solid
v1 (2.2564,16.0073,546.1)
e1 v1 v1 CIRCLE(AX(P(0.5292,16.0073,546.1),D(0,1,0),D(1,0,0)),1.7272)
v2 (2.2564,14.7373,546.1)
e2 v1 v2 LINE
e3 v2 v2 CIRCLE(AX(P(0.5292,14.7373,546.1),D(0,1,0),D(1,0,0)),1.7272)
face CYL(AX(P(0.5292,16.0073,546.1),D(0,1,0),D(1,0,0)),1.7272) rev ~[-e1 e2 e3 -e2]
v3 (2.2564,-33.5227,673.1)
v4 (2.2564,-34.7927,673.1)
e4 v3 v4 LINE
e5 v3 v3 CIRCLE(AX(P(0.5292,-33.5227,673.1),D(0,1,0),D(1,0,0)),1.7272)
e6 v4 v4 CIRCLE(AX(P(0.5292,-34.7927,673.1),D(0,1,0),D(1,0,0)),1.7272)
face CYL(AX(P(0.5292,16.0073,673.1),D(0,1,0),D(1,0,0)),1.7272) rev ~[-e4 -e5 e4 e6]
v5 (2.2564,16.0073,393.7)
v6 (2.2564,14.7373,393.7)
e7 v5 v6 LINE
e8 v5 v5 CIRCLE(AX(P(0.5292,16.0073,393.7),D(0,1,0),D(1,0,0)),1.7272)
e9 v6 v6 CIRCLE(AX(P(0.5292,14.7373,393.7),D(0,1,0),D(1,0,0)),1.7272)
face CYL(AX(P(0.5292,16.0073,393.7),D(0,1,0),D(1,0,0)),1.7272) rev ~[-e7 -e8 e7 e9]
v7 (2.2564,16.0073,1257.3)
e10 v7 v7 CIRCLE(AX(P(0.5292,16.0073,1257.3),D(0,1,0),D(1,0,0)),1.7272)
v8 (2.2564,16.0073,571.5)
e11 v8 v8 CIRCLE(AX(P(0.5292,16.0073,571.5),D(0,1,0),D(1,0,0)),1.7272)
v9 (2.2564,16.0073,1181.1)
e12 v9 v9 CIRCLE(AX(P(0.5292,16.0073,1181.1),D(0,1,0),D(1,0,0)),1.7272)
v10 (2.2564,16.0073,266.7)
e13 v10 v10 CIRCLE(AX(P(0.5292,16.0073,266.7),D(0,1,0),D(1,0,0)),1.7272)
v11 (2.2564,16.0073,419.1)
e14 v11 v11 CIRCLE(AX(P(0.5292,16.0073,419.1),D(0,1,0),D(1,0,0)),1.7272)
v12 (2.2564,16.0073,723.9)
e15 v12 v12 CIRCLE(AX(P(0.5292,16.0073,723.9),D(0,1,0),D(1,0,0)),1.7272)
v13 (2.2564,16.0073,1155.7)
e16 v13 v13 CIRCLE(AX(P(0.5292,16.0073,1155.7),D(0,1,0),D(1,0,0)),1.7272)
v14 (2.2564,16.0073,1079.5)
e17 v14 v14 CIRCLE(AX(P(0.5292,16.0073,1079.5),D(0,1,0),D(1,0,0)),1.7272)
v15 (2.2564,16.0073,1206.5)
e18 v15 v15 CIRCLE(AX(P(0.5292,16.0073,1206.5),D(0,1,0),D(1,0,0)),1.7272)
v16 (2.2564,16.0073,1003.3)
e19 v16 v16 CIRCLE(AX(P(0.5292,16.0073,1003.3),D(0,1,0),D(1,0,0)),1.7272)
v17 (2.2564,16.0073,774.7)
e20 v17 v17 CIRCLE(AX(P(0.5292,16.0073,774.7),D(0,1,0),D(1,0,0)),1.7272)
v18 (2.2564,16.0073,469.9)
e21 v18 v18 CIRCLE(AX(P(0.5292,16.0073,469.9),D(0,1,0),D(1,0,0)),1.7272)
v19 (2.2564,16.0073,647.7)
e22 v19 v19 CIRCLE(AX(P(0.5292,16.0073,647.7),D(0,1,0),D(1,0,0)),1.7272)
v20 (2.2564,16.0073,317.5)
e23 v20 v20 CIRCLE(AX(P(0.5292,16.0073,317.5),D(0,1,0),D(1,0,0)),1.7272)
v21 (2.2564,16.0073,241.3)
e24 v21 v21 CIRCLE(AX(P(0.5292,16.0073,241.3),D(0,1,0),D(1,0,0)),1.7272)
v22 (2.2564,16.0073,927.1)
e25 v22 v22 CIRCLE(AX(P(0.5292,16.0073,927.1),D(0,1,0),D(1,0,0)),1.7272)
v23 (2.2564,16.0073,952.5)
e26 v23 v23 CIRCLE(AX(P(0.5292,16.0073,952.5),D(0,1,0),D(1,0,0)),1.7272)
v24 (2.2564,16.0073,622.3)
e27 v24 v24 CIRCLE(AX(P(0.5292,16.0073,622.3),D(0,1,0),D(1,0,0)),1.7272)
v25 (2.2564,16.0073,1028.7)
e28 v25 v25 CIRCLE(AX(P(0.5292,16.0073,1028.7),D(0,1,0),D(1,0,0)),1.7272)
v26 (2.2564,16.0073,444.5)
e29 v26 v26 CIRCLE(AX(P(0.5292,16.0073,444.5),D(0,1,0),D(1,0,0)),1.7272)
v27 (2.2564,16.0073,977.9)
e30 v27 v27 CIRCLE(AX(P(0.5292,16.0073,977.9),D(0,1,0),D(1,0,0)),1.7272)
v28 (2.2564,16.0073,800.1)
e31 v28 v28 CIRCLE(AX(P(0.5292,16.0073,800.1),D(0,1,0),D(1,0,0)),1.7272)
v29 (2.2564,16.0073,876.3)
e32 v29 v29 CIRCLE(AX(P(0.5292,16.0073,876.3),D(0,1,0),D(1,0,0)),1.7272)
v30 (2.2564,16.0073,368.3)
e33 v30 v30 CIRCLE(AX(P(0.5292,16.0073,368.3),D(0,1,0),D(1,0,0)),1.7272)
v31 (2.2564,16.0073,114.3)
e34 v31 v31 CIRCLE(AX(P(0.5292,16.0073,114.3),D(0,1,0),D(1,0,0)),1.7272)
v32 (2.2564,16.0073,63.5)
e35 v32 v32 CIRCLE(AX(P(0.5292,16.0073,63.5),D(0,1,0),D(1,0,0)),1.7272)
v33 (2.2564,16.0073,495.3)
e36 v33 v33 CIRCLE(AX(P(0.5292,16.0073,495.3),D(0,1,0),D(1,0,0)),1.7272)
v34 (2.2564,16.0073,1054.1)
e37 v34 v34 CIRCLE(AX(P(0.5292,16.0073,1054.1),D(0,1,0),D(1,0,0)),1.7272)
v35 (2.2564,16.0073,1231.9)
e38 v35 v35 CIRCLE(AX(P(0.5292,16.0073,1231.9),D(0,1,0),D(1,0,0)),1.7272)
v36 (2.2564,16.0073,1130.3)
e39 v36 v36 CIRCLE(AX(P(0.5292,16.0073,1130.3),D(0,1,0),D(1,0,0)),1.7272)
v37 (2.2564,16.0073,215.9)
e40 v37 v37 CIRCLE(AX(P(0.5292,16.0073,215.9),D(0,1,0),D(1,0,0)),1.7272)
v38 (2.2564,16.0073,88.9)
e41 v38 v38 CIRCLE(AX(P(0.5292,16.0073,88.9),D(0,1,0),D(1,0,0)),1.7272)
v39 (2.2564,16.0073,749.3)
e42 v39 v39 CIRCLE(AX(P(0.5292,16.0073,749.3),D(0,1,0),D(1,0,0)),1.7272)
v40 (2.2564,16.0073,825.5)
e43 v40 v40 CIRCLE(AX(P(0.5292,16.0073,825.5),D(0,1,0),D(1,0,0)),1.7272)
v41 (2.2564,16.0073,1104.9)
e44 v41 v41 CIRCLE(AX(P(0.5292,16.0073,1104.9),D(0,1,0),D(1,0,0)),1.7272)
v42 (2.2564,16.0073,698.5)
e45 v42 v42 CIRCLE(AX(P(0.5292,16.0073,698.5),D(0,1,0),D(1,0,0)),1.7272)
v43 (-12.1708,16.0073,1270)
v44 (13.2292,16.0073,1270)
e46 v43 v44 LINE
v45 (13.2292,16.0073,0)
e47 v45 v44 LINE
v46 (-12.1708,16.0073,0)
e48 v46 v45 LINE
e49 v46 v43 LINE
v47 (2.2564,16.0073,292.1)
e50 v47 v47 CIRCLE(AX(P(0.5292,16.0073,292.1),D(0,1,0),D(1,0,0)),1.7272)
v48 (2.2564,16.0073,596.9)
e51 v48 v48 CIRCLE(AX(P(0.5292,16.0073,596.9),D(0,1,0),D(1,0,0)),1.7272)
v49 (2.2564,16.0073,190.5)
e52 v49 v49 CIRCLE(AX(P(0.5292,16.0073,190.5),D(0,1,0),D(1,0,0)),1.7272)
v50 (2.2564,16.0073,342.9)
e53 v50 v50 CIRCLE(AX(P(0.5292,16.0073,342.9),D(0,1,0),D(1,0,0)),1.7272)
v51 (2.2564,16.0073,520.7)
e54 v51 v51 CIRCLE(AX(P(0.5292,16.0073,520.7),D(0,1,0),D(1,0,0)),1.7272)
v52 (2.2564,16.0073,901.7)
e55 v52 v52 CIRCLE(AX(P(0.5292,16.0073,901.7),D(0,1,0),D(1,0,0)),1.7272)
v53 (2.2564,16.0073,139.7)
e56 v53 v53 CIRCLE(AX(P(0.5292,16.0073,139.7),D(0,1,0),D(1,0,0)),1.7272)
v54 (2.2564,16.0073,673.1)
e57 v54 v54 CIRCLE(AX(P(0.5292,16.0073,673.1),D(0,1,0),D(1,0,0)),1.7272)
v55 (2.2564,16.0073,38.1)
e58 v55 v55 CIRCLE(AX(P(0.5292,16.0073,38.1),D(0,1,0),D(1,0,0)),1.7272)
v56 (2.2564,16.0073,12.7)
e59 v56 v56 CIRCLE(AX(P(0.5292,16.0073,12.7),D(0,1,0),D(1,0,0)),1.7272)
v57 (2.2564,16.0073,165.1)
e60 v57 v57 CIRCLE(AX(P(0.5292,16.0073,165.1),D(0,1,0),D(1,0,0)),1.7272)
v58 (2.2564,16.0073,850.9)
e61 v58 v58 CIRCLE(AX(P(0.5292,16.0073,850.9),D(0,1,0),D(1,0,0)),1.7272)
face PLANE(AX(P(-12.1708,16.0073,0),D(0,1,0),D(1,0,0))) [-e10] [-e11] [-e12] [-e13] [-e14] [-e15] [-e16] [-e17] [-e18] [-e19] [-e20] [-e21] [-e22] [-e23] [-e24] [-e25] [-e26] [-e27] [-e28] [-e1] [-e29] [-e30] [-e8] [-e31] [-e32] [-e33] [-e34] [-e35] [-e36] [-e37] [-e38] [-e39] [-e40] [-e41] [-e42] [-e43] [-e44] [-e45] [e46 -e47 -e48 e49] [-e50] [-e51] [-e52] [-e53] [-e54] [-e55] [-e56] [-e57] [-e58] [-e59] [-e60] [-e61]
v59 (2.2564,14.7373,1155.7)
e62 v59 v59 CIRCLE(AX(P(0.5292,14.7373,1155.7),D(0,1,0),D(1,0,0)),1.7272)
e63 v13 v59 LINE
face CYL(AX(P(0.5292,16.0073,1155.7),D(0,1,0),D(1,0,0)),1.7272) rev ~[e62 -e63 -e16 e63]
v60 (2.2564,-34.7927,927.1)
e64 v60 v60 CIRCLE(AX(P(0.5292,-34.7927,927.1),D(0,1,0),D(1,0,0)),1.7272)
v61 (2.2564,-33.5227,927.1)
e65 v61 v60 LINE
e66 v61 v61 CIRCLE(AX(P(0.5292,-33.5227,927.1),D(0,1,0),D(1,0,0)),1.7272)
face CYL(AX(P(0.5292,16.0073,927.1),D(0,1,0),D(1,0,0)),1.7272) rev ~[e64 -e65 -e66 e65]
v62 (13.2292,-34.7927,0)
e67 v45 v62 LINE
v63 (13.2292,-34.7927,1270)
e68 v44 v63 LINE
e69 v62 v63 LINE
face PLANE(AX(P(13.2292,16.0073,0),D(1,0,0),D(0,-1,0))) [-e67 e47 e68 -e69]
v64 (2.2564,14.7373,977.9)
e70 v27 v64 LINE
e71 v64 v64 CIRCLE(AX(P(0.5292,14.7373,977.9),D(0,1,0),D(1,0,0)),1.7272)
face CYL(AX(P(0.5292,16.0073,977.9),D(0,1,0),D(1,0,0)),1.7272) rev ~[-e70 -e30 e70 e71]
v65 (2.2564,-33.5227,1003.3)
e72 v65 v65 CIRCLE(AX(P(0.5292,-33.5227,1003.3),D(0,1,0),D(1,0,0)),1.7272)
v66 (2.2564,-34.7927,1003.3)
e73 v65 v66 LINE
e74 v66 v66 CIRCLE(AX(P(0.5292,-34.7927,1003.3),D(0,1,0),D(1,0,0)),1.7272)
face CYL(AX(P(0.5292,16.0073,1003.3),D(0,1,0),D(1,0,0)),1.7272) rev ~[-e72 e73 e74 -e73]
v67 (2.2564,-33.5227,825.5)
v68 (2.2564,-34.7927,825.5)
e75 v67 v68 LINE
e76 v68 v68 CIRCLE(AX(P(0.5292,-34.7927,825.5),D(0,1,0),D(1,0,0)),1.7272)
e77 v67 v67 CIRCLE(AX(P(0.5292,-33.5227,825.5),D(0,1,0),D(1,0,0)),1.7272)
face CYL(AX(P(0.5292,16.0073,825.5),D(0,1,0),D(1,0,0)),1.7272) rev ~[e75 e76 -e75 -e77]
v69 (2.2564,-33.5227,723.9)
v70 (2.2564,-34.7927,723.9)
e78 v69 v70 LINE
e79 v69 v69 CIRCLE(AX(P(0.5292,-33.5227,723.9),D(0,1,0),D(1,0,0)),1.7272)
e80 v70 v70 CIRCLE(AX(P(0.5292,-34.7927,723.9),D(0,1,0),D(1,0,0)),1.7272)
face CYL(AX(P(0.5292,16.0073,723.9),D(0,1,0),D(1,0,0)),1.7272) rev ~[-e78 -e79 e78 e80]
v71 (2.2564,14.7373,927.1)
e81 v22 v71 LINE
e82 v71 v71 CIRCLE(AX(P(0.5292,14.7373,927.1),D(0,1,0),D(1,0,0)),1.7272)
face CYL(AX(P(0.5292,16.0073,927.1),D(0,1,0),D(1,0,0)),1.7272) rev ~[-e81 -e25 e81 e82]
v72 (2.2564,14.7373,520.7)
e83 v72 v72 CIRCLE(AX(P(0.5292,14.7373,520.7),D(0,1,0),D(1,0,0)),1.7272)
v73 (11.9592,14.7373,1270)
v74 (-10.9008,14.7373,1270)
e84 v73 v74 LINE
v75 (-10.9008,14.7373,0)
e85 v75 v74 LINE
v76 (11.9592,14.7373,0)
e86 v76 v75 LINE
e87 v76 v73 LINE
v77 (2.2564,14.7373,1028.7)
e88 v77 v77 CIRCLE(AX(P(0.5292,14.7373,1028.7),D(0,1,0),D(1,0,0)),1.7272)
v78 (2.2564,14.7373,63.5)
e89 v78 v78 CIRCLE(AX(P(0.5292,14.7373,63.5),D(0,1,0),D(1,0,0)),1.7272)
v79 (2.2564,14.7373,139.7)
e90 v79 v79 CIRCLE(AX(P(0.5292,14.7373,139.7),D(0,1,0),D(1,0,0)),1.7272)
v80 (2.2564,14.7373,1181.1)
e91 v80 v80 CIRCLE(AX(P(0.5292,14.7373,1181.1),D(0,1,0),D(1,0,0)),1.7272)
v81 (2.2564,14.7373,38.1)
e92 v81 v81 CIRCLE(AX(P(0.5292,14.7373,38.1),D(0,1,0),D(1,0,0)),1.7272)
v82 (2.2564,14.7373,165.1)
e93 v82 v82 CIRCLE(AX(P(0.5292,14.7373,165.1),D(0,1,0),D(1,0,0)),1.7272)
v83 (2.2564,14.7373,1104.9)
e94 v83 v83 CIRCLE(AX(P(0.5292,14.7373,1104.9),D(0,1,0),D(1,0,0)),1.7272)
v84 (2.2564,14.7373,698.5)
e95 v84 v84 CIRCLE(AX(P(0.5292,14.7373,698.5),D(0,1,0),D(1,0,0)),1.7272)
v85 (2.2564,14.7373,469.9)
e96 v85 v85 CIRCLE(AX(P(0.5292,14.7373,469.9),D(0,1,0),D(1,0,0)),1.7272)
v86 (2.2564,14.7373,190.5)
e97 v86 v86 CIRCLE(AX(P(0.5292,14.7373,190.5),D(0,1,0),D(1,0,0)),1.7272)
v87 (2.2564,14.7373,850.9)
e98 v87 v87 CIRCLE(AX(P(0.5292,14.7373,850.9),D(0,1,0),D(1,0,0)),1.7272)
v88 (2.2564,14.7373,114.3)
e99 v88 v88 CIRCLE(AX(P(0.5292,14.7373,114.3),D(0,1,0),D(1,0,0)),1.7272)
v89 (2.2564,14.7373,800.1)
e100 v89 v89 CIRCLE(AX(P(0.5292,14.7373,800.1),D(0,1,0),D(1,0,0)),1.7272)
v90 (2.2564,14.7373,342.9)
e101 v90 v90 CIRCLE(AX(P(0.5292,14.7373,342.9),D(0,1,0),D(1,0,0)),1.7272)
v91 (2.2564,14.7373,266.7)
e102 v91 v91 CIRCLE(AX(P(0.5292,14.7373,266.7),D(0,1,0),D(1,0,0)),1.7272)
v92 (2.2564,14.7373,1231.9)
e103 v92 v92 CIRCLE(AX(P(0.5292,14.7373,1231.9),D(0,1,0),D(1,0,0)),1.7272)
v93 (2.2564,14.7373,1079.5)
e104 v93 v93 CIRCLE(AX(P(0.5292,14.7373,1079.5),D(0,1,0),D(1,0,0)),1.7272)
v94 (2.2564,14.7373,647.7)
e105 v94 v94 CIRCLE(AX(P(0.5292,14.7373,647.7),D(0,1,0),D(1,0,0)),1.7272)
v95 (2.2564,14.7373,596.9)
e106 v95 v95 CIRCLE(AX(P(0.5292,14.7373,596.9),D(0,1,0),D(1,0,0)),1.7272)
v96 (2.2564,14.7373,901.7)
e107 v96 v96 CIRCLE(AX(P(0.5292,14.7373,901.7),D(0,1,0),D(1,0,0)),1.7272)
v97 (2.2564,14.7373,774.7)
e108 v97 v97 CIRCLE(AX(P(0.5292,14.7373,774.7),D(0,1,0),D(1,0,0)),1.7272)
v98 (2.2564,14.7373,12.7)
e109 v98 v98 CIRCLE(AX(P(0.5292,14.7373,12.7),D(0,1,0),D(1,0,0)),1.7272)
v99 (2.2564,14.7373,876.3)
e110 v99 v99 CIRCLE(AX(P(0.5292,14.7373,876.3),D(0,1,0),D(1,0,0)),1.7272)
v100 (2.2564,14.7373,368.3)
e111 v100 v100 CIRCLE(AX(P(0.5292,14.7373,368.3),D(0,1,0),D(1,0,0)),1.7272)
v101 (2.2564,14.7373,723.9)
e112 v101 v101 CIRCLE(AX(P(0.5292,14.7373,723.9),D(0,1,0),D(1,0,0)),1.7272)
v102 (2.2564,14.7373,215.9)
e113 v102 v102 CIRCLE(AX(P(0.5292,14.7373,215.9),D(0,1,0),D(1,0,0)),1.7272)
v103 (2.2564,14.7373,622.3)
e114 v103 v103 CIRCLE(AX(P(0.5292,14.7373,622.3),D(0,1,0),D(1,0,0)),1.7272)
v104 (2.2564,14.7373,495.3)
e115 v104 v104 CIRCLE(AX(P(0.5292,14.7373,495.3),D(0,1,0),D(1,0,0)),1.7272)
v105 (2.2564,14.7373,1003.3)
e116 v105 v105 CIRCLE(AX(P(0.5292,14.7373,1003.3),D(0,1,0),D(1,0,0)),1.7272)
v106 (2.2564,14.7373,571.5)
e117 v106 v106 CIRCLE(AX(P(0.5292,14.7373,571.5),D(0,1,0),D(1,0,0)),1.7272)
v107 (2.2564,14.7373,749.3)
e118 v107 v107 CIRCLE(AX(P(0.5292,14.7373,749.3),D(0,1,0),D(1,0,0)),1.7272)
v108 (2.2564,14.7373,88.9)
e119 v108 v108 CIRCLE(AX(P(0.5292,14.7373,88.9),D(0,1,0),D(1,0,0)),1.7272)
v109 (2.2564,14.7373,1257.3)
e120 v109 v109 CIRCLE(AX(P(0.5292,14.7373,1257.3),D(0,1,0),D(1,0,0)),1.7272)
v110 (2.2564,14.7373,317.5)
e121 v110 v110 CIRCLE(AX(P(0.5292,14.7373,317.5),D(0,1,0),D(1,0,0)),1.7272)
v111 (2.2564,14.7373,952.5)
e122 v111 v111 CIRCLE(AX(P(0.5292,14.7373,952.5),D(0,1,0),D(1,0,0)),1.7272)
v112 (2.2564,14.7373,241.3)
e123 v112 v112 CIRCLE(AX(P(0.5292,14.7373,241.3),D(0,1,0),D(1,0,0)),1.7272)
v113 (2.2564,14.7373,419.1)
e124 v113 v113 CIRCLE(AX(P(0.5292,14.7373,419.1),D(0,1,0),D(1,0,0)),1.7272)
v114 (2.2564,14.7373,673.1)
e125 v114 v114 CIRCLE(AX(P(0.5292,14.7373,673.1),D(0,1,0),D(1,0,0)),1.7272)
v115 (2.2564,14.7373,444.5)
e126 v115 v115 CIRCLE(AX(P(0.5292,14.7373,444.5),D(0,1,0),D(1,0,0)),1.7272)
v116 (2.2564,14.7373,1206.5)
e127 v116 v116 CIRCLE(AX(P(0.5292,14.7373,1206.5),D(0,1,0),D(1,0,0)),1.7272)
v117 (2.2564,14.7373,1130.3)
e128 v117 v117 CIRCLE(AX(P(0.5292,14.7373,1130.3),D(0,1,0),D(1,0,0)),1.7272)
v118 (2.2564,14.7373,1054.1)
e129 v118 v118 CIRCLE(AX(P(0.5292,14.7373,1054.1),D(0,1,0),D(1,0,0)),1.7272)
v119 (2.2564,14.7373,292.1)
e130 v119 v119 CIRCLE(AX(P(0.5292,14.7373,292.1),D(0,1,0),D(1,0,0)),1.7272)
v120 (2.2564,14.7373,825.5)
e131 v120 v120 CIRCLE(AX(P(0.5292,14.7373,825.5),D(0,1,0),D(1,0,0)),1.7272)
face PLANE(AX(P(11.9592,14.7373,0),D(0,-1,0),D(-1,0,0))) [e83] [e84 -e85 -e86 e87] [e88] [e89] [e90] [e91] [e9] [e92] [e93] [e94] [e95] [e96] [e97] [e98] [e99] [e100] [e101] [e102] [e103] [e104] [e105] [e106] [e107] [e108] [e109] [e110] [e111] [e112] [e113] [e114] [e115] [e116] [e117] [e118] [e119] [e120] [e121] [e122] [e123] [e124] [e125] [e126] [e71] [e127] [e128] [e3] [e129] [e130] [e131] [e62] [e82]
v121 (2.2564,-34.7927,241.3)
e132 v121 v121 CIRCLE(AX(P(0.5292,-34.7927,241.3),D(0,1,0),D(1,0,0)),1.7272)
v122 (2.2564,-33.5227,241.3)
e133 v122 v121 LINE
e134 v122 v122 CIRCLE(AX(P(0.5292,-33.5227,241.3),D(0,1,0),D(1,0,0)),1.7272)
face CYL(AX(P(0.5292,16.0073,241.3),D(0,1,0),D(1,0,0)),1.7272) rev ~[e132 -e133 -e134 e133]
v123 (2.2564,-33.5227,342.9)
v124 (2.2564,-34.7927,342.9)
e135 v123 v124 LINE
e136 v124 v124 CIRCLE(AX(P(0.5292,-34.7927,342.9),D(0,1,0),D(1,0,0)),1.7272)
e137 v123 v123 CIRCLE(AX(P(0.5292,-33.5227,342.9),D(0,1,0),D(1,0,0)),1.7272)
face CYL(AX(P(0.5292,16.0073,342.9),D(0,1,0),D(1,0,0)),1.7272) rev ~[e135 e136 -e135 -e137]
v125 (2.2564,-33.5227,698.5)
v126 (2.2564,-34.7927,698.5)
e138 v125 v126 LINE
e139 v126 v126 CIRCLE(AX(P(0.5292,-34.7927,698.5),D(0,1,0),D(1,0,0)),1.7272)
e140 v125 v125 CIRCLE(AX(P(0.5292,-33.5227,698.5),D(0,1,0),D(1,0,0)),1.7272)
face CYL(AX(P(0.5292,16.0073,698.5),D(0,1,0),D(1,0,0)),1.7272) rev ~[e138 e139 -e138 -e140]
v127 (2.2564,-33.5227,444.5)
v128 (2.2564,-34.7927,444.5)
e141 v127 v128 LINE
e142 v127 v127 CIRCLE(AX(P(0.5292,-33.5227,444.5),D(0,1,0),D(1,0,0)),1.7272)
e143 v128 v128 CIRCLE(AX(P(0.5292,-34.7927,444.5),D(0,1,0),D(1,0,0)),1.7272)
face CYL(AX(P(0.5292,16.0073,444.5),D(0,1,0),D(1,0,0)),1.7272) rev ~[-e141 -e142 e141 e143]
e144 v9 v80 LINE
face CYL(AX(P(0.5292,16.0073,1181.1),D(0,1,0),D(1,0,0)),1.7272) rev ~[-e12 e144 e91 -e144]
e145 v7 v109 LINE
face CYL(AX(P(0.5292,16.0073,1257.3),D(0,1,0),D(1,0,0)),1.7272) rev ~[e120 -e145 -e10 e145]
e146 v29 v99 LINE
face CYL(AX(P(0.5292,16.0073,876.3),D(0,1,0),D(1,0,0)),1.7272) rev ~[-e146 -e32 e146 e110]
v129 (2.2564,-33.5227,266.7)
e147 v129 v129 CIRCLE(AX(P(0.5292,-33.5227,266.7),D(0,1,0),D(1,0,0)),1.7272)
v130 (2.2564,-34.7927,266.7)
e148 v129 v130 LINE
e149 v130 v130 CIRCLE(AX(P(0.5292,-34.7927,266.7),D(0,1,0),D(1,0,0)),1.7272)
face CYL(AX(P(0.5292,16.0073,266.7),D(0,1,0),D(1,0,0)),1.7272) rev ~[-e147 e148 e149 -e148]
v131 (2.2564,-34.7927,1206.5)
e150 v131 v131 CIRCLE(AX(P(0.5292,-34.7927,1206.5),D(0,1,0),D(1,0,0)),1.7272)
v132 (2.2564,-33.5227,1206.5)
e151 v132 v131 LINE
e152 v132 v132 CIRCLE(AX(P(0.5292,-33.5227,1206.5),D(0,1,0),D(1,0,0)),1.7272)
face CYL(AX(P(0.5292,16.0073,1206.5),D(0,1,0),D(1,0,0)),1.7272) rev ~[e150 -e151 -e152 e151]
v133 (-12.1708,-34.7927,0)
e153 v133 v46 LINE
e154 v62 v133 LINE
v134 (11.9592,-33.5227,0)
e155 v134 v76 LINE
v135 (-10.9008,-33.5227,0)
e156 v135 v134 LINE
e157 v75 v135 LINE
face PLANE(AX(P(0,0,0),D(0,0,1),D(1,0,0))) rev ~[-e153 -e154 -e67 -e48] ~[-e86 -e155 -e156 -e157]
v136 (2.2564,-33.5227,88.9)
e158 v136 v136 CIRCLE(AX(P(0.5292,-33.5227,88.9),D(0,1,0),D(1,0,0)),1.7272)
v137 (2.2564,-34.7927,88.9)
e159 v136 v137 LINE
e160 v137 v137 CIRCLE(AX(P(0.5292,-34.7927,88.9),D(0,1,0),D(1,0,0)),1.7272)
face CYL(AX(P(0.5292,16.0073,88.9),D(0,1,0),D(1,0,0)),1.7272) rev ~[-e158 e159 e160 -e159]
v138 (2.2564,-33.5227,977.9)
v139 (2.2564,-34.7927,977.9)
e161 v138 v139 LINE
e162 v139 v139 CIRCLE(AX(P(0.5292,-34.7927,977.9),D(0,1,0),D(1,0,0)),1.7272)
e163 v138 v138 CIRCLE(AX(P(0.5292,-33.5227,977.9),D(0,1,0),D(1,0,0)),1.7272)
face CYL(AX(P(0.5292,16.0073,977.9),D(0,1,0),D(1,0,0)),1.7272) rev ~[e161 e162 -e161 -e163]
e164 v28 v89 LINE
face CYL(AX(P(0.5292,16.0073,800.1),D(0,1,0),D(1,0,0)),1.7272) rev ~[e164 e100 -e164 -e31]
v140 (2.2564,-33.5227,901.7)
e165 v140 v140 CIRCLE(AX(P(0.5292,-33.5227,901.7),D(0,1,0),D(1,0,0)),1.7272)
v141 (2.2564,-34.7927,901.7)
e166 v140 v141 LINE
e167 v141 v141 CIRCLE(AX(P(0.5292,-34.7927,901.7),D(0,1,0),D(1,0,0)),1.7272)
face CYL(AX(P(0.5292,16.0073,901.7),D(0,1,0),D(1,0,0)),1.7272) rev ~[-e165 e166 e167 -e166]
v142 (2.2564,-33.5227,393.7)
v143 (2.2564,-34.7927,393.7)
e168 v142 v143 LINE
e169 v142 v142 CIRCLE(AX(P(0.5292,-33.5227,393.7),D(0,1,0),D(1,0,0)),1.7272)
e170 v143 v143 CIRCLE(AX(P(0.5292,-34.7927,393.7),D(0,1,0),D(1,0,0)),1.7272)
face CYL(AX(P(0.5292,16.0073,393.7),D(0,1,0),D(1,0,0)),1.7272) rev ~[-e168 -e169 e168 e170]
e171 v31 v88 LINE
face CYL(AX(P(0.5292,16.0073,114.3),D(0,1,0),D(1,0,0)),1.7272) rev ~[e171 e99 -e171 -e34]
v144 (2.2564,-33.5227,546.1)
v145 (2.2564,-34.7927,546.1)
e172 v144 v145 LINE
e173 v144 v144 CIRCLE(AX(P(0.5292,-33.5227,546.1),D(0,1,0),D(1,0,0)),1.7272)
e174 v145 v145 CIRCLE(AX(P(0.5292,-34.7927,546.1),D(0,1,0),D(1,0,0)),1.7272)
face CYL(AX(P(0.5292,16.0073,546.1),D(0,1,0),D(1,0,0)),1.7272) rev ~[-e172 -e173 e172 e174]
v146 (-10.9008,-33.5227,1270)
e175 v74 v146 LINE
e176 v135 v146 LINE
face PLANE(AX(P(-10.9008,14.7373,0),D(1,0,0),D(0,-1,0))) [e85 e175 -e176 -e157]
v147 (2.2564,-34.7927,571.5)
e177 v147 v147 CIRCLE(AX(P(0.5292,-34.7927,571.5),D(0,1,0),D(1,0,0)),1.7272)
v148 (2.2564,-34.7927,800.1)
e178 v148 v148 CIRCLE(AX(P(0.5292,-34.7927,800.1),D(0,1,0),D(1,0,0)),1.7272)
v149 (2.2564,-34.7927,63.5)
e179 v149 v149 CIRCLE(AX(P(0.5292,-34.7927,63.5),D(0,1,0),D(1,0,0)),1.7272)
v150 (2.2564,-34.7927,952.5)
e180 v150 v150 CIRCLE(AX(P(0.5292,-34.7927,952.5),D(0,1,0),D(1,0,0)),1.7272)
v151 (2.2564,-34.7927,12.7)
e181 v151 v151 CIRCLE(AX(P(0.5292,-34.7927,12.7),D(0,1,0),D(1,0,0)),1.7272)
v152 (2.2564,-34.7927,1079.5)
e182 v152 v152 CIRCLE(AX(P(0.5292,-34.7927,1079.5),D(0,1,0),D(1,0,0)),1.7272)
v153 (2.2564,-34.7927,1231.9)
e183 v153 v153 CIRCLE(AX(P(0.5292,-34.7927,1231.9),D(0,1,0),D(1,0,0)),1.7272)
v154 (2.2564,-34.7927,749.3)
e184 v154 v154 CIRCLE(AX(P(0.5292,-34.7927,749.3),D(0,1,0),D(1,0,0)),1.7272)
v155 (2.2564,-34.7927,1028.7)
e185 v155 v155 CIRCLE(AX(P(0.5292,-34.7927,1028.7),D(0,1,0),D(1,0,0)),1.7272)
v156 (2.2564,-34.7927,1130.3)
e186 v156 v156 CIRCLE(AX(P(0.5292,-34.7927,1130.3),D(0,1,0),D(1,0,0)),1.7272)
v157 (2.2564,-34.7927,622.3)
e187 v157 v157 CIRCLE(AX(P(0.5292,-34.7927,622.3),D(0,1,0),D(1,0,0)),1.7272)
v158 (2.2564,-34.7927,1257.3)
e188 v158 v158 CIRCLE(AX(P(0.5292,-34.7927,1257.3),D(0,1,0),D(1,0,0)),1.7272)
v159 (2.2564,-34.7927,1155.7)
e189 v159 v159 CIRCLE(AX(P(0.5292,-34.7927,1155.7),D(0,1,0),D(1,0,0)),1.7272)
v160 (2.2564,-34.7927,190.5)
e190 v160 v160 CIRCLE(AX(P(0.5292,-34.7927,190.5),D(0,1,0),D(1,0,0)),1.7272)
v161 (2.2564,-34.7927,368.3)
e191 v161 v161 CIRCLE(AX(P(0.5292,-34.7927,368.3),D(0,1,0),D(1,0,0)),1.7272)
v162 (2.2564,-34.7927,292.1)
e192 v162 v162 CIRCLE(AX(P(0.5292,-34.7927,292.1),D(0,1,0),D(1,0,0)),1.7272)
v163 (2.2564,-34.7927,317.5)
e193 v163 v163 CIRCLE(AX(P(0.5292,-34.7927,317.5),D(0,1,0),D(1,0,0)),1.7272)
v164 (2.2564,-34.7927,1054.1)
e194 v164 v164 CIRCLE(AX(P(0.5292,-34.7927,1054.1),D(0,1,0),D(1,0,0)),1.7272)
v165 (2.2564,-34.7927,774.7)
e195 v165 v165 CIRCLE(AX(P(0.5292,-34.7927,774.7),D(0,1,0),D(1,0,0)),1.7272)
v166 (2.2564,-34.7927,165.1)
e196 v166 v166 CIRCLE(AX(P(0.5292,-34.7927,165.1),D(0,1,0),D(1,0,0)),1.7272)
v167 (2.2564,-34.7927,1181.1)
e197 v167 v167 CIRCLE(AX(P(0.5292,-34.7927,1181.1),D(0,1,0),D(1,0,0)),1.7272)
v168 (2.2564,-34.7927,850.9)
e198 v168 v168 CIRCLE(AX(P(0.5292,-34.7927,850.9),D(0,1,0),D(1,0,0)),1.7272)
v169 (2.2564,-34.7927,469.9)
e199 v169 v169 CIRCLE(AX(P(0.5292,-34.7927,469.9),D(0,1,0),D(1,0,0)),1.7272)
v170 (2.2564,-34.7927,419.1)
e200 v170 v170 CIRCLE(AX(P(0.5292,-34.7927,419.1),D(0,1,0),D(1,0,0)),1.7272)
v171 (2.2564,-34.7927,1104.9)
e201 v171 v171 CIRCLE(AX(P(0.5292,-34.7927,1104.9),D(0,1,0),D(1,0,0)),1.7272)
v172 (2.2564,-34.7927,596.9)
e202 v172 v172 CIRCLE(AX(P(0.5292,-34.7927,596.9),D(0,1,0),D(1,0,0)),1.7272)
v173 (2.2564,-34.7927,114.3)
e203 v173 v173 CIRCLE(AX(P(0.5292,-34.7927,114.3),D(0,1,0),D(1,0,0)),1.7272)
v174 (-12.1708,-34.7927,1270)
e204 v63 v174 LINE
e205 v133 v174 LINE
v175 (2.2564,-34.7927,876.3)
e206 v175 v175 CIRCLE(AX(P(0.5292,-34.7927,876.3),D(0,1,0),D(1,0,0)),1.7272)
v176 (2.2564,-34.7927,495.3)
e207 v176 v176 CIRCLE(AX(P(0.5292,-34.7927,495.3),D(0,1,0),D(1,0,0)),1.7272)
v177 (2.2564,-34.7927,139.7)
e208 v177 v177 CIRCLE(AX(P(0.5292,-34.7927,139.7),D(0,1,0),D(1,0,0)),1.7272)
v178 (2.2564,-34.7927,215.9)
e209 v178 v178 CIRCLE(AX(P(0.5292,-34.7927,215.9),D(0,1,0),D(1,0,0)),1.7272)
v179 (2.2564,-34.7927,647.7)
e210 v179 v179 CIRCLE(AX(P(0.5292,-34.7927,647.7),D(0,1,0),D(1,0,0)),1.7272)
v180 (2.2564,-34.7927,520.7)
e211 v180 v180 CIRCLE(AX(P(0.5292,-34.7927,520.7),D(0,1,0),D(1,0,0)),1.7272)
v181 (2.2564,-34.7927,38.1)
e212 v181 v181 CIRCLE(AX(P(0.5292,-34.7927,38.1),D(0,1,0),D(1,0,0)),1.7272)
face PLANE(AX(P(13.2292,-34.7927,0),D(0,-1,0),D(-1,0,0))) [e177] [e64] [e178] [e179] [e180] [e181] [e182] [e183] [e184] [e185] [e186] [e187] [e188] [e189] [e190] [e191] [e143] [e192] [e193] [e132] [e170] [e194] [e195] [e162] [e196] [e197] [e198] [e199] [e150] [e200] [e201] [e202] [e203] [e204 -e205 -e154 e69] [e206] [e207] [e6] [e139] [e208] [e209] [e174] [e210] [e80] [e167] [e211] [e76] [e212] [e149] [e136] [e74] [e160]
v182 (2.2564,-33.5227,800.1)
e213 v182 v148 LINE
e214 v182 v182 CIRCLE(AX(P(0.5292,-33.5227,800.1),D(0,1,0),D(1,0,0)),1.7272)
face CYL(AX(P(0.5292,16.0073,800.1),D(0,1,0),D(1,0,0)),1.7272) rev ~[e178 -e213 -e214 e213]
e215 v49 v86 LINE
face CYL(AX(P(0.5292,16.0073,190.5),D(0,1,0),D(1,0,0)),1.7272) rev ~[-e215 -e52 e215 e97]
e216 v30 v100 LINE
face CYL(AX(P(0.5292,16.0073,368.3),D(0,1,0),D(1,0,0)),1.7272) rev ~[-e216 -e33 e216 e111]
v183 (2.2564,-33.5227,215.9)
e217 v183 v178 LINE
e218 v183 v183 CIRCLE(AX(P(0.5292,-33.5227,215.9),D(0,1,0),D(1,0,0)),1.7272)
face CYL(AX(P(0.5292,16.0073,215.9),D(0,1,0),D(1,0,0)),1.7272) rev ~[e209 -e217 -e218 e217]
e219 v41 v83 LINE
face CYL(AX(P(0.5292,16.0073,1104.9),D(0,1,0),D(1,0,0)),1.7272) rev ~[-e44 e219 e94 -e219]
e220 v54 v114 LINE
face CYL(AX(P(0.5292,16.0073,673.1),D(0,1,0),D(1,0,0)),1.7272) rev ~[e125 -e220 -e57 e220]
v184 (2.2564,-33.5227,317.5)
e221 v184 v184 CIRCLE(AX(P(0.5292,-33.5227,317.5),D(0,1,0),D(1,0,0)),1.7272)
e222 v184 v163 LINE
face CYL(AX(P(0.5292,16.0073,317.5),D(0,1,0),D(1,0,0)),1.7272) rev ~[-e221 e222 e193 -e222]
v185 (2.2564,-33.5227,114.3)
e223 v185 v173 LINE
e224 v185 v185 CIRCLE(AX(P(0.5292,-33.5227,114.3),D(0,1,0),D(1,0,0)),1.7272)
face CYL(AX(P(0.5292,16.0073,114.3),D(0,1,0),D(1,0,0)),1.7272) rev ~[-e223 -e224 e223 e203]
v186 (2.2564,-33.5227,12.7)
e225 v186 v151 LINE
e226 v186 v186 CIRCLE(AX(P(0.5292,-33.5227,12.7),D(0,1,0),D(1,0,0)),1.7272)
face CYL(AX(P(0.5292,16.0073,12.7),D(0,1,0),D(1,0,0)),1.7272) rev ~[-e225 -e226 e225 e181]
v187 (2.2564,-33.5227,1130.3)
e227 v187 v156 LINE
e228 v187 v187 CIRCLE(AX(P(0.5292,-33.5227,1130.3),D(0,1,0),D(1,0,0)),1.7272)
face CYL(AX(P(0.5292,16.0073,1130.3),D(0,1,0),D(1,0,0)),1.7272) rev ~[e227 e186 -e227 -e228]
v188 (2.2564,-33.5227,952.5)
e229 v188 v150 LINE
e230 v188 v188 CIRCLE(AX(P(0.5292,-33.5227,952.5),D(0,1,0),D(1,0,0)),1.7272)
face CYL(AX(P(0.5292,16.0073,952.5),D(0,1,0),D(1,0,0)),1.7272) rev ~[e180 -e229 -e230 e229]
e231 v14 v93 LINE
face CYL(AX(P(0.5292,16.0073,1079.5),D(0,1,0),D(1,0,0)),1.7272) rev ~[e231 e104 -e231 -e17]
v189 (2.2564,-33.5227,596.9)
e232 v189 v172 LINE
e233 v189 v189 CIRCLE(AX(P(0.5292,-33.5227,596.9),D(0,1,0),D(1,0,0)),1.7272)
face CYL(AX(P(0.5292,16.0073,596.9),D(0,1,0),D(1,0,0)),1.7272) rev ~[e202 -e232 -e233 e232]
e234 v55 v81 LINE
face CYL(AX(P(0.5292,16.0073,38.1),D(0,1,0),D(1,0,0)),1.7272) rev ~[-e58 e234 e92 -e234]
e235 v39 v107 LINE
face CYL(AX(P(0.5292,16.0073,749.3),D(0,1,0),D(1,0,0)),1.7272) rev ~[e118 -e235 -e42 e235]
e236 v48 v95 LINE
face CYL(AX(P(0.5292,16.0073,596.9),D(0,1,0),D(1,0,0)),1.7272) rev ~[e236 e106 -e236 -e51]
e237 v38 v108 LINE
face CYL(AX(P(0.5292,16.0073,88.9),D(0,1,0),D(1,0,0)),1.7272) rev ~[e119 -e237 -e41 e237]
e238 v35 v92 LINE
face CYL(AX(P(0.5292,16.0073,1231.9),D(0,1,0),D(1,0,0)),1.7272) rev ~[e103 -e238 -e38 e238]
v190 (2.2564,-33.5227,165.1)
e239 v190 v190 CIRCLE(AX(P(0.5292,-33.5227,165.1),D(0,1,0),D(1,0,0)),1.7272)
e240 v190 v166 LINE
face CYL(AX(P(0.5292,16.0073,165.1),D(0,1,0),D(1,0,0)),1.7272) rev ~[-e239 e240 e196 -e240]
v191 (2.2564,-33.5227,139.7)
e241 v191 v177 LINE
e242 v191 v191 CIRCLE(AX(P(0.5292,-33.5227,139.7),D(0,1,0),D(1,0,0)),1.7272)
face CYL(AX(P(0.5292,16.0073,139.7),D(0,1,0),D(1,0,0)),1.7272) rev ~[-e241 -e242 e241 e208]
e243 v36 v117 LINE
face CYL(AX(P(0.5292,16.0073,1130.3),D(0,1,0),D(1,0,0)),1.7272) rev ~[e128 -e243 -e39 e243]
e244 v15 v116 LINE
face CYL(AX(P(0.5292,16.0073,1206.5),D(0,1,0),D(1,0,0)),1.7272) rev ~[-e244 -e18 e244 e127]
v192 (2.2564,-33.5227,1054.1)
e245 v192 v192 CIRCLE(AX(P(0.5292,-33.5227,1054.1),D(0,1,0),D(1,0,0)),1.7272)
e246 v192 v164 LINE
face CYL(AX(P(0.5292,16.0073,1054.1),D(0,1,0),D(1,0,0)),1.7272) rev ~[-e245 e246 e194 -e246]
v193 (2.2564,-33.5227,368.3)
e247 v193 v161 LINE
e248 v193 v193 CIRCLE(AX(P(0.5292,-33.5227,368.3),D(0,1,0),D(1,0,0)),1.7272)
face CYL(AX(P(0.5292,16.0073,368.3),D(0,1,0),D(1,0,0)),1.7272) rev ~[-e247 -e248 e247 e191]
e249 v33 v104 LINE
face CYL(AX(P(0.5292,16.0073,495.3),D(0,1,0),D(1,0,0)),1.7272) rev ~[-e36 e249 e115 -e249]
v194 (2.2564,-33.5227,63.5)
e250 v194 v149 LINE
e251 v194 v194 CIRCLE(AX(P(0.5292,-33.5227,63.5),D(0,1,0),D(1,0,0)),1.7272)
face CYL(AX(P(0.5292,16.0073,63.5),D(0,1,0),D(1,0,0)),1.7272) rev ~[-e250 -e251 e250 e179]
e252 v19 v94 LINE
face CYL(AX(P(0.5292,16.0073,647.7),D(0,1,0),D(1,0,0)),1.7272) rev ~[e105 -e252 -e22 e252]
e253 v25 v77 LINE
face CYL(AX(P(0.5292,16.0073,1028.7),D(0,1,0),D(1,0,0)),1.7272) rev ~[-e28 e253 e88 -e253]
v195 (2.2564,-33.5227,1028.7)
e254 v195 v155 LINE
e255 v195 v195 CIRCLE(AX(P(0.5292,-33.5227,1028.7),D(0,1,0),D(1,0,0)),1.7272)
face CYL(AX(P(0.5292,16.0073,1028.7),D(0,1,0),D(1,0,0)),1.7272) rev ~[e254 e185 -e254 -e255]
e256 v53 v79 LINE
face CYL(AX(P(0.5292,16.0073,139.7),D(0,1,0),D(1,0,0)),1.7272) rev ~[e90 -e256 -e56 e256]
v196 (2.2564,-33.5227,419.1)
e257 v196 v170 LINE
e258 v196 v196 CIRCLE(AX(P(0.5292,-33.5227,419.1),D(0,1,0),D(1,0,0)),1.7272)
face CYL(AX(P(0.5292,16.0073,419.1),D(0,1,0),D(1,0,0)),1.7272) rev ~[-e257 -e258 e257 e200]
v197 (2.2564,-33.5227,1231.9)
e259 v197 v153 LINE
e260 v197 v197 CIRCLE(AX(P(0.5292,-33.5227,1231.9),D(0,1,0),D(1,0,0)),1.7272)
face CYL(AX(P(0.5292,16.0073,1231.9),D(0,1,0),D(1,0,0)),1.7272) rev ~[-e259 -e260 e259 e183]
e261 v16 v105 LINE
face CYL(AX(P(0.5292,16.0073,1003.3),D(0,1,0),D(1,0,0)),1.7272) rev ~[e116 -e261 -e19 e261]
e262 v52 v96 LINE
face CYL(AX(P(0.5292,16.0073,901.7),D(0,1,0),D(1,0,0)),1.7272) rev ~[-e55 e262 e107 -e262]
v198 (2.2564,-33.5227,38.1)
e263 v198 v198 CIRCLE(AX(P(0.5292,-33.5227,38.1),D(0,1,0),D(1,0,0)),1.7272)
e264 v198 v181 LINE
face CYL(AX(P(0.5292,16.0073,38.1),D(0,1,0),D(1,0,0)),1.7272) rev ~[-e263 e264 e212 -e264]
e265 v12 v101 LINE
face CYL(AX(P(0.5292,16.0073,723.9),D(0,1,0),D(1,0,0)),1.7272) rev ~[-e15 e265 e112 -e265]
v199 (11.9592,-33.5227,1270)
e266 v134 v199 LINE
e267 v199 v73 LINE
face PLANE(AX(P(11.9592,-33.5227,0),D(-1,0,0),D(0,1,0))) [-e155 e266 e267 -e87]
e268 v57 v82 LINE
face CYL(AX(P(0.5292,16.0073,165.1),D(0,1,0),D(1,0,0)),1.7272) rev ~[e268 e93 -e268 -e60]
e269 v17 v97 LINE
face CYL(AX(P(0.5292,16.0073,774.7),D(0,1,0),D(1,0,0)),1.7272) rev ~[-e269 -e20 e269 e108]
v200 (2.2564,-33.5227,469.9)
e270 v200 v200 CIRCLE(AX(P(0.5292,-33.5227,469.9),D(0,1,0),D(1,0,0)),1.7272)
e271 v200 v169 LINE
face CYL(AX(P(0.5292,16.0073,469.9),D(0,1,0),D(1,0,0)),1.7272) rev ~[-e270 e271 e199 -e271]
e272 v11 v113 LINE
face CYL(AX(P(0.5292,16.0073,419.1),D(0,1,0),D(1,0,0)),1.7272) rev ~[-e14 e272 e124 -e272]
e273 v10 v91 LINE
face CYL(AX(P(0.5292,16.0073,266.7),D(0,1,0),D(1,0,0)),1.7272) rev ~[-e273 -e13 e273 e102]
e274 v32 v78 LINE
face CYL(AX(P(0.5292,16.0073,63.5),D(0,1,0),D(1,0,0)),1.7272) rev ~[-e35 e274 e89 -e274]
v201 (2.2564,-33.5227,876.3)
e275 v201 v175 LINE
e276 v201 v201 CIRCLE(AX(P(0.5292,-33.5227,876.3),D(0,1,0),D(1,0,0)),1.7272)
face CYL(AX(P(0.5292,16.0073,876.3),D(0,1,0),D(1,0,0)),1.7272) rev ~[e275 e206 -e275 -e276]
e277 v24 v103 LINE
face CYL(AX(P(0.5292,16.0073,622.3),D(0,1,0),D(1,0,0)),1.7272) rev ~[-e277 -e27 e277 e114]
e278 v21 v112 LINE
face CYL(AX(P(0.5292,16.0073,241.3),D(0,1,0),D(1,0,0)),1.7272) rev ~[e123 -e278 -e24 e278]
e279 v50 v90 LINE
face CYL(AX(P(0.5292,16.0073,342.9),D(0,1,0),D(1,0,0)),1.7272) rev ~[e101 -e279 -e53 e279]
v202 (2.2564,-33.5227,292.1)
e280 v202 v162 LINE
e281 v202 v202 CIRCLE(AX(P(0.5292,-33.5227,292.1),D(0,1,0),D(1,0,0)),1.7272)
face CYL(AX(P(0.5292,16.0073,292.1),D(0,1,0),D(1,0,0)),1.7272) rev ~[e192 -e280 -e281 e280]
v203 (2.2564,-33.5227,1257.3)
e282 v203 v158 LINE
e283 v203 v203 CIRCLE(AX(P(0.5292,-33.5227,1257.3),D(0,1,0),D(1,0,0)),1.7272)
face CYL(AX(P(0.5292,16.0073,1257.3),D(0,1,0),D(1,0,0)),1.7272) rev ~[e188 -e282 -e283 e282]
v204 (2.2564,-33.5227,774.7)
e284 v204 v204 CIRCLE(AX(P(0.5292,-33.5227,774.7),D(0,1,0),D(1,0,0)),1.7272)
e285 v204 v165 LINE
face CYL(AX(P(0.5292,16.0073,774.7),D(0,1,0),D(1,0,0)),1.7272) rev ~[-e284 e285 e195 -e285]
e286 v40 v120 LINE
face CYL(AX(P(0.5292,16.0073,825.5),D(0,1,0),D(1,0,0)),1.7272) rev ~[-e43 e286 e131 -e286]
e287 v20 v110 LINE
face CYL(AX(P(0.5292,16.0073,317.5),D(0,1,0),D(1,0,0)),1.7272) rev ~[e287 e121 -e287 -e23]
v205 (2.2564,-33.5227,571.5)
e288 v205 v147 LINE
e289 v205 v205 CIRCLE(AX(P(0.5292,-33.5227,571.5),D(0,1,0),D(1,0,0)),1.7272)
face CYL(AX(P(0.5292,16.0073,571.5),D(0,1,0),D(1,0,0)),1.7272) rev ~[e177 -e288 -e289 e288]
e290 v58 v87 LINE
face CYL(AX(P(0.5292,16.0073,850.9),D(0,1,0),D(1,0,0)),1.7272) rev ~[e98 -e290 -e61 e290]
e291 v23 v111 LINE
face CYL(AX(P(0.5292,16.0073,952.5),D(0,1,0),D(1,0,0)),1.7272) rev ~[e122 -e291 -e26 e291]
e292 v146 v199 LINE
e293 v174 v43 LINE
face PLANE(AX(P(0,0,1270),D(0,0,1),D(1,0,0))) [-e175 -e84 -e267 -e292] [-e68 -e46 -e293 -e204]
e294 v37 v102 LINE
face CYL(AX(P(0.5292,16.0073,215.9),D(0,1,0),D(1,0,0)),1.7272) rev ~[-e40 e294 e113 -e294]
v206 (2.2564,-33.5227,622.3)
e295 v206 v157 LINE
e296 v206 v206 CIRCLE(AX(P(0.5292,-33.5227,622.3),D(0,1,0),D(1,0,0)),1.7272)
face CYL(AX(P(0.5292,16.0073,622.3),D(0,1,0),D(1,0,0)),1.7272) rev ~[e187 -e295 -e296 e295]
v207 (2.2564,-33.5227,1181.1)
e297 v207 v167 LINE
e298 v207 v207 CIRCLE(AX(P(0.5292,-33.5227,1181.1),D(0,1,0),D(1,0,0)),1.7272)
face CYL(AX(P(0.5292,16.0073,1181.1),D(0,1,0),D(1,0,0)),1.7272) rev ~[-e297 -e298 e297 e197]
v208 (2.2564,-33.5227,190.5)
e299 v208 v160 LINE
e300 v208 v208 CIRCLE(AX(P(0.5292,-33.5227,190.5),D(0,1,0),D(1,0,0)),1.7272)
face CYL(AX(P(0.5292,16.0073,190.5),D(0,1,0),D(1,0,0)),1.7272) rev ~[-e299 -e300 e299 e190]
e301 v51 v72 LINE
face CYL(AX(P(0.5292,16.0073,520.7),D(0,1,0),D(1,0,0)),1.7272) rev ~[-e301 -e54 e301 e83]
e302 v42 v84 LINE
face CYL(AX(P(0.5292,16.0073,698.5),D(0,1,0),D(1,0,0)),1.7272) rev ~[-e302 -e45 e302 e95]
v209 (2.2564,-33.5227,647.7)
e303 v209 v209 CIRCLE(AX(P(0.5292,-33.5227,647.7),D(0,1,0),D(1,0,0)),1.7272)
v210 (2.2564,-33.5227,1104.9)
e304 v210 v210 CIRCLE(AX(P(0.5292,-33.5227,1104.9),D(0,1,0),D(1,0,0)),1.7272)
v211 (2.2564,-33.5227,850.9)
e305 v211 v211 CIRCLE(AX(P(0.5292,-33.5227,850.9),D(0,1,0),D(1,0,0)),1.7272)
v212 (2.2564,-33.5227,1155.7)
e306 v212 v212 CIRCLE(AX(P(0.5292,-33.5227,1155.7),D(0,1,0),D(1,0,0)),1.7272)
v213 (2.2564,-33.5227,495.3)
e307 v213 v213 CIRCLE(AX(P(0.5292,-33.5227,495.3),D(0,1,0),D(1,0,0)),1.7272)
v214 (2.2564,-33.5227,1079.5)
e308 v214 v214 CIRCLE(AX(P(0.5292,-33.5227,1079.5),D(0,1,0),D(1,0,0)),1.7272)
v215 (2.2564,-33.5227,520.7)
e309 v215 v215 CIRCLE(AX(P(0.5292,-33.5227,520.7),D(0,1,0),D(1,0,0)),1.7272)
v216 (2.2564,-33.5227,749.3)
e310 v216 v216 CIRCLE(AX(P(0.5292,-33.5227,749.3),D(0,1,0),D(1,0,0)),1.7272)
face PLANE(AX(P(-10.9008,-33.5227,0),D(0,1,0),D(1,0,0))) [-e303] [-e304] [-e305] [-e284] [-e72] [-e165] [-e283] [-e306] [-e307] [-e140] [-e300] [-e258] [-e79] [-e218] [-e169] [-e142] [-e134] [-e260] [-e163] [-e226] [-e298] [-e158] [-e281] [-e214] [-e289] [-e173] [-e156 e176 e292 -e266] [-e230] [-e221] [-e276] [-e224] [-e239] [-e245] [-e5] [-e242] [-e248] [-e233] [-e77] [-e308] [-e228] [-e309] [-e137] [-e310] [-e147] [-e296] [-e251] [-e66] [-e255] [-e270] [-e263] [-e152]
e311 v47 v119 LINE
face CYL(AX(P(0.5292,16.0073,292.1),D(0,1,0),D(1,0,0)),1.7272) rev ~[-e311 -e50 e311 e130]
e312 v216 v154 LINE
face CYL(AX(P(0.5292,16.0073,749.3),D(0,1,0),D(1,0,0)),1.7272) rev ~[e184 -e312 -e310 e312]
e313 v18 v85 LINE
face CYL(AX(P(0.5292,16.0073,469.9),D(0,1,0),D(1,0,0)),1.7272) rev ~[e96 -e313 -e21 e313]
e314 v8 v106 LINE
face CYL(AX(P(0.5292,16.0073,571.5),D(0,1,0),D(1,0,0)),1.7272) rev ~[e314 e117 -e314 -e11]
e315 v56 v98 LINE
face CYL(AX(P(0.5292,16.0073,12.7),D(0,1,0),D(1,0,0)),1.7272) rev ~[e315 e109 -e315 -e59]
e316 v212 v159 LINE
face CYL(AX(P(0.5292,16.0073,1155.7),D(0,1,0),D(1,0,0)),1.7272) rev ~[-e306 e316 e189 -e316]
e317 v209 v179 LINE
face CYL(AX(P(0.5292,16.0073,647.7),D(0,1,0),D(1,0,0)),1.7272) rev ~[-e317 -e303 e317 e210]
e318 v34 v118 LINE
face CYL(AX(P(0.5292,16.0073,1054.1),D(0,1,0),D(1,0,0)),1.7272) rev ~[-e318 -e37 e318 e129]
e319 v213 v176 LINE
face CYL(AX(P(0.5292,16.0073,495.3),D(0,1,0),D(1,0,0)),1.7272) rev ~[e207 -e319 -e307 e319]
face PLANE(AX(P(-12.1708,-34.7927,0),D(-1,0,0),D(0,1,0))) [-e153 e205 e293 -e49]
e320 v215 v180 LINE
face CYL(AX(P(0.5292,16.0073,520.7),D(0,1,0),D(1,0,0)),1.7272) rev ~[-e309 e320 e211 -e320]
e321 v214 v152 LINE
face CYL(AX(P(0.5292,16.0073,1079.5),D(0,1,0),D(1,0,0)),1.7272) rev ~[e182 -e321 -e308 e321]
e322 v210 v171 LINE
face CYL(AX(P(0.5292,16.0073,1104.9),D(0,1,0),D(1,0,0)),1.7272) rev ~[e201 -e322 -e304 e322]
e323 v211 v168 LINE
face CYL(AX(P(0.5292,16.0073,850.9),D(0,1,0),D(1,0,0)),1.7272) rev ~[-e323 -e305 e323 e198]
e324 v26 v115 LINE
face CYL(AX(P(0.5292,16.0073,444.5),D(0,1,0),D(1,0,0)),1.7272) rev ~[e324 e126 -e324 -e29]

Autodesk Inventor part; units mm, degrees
ref_plane "YZ Plane" through (0, 0, 0) normal (1, 0, 0) x (0, 1, 0)
ref_plane "XZ Plane" through (0, 0, 0) normal (0, 1, 0) x (-1, 0, 0)
ref_plane "XY Plane" through (0, 0, 0) normal (0, 0, 1) x (1, 0, 0)
sketch "Sketch1" plane through (0, 0, 0) normal (0, 0, 1) x (1, 0, 0)
  line L0 (-12.1708, 16.0073) -> (13.2292, 16.0073)
  line L1 (13.2292, 16.0073) -> (13.2292, -34.7927)
  line L2 (13.2292, -34.7927) -> (-12.1708, -34.7927)
  line L3 (-12.1708, -34.7927) -> (-12.1708, 16.0073)
  line L4 (11.9592, 14.7373) -> (-10.9008, 14.7373)
  line L5 (-10.9008, 14.7373) -> (-10.9008, -33.5227)
  line L6 (-10.9008, -33.5227) -> (11.9592, -33.5227)
  line L7 (11.9592, -33.5227) -> (11.9592, 14.7373)
  point P0 (0, 0)
  dimension "d0" = 25.4
  dimension "d1" = 50.8
  dimension "d2" = 1.27
extrude "Extrusion1" add sketch "Sketch1" along normal blind 1270
sketch "Sketch2" plane through (-12.1708, 16.0073, 0) normal (0, 1, 0) x (1, 0, 0)
  circle A0 centre (12.7, -12.7) radius 1.7272
  line L0 (25.4, 0) -> (0, 0) projected
  line L1 (0, 0) -> (0, -1270) projected
  point P0 (12.1708, 0)
  dimension "d5" = 3.4544
  dimension "d6" = 12.7
  dimension "d7" = 12.7
extrude "Extrusion2" cut sketch "Sketch2" against normal through all
pattern_linear "Rectangular Pattern1" count 127 spacing 25.4 along (0, 0, 1) of "Extrusion2"
equation "\"d3\" = d13"
equation "\"d13\" = 1270"
properties part number "VersaFrame(tower arms)"
